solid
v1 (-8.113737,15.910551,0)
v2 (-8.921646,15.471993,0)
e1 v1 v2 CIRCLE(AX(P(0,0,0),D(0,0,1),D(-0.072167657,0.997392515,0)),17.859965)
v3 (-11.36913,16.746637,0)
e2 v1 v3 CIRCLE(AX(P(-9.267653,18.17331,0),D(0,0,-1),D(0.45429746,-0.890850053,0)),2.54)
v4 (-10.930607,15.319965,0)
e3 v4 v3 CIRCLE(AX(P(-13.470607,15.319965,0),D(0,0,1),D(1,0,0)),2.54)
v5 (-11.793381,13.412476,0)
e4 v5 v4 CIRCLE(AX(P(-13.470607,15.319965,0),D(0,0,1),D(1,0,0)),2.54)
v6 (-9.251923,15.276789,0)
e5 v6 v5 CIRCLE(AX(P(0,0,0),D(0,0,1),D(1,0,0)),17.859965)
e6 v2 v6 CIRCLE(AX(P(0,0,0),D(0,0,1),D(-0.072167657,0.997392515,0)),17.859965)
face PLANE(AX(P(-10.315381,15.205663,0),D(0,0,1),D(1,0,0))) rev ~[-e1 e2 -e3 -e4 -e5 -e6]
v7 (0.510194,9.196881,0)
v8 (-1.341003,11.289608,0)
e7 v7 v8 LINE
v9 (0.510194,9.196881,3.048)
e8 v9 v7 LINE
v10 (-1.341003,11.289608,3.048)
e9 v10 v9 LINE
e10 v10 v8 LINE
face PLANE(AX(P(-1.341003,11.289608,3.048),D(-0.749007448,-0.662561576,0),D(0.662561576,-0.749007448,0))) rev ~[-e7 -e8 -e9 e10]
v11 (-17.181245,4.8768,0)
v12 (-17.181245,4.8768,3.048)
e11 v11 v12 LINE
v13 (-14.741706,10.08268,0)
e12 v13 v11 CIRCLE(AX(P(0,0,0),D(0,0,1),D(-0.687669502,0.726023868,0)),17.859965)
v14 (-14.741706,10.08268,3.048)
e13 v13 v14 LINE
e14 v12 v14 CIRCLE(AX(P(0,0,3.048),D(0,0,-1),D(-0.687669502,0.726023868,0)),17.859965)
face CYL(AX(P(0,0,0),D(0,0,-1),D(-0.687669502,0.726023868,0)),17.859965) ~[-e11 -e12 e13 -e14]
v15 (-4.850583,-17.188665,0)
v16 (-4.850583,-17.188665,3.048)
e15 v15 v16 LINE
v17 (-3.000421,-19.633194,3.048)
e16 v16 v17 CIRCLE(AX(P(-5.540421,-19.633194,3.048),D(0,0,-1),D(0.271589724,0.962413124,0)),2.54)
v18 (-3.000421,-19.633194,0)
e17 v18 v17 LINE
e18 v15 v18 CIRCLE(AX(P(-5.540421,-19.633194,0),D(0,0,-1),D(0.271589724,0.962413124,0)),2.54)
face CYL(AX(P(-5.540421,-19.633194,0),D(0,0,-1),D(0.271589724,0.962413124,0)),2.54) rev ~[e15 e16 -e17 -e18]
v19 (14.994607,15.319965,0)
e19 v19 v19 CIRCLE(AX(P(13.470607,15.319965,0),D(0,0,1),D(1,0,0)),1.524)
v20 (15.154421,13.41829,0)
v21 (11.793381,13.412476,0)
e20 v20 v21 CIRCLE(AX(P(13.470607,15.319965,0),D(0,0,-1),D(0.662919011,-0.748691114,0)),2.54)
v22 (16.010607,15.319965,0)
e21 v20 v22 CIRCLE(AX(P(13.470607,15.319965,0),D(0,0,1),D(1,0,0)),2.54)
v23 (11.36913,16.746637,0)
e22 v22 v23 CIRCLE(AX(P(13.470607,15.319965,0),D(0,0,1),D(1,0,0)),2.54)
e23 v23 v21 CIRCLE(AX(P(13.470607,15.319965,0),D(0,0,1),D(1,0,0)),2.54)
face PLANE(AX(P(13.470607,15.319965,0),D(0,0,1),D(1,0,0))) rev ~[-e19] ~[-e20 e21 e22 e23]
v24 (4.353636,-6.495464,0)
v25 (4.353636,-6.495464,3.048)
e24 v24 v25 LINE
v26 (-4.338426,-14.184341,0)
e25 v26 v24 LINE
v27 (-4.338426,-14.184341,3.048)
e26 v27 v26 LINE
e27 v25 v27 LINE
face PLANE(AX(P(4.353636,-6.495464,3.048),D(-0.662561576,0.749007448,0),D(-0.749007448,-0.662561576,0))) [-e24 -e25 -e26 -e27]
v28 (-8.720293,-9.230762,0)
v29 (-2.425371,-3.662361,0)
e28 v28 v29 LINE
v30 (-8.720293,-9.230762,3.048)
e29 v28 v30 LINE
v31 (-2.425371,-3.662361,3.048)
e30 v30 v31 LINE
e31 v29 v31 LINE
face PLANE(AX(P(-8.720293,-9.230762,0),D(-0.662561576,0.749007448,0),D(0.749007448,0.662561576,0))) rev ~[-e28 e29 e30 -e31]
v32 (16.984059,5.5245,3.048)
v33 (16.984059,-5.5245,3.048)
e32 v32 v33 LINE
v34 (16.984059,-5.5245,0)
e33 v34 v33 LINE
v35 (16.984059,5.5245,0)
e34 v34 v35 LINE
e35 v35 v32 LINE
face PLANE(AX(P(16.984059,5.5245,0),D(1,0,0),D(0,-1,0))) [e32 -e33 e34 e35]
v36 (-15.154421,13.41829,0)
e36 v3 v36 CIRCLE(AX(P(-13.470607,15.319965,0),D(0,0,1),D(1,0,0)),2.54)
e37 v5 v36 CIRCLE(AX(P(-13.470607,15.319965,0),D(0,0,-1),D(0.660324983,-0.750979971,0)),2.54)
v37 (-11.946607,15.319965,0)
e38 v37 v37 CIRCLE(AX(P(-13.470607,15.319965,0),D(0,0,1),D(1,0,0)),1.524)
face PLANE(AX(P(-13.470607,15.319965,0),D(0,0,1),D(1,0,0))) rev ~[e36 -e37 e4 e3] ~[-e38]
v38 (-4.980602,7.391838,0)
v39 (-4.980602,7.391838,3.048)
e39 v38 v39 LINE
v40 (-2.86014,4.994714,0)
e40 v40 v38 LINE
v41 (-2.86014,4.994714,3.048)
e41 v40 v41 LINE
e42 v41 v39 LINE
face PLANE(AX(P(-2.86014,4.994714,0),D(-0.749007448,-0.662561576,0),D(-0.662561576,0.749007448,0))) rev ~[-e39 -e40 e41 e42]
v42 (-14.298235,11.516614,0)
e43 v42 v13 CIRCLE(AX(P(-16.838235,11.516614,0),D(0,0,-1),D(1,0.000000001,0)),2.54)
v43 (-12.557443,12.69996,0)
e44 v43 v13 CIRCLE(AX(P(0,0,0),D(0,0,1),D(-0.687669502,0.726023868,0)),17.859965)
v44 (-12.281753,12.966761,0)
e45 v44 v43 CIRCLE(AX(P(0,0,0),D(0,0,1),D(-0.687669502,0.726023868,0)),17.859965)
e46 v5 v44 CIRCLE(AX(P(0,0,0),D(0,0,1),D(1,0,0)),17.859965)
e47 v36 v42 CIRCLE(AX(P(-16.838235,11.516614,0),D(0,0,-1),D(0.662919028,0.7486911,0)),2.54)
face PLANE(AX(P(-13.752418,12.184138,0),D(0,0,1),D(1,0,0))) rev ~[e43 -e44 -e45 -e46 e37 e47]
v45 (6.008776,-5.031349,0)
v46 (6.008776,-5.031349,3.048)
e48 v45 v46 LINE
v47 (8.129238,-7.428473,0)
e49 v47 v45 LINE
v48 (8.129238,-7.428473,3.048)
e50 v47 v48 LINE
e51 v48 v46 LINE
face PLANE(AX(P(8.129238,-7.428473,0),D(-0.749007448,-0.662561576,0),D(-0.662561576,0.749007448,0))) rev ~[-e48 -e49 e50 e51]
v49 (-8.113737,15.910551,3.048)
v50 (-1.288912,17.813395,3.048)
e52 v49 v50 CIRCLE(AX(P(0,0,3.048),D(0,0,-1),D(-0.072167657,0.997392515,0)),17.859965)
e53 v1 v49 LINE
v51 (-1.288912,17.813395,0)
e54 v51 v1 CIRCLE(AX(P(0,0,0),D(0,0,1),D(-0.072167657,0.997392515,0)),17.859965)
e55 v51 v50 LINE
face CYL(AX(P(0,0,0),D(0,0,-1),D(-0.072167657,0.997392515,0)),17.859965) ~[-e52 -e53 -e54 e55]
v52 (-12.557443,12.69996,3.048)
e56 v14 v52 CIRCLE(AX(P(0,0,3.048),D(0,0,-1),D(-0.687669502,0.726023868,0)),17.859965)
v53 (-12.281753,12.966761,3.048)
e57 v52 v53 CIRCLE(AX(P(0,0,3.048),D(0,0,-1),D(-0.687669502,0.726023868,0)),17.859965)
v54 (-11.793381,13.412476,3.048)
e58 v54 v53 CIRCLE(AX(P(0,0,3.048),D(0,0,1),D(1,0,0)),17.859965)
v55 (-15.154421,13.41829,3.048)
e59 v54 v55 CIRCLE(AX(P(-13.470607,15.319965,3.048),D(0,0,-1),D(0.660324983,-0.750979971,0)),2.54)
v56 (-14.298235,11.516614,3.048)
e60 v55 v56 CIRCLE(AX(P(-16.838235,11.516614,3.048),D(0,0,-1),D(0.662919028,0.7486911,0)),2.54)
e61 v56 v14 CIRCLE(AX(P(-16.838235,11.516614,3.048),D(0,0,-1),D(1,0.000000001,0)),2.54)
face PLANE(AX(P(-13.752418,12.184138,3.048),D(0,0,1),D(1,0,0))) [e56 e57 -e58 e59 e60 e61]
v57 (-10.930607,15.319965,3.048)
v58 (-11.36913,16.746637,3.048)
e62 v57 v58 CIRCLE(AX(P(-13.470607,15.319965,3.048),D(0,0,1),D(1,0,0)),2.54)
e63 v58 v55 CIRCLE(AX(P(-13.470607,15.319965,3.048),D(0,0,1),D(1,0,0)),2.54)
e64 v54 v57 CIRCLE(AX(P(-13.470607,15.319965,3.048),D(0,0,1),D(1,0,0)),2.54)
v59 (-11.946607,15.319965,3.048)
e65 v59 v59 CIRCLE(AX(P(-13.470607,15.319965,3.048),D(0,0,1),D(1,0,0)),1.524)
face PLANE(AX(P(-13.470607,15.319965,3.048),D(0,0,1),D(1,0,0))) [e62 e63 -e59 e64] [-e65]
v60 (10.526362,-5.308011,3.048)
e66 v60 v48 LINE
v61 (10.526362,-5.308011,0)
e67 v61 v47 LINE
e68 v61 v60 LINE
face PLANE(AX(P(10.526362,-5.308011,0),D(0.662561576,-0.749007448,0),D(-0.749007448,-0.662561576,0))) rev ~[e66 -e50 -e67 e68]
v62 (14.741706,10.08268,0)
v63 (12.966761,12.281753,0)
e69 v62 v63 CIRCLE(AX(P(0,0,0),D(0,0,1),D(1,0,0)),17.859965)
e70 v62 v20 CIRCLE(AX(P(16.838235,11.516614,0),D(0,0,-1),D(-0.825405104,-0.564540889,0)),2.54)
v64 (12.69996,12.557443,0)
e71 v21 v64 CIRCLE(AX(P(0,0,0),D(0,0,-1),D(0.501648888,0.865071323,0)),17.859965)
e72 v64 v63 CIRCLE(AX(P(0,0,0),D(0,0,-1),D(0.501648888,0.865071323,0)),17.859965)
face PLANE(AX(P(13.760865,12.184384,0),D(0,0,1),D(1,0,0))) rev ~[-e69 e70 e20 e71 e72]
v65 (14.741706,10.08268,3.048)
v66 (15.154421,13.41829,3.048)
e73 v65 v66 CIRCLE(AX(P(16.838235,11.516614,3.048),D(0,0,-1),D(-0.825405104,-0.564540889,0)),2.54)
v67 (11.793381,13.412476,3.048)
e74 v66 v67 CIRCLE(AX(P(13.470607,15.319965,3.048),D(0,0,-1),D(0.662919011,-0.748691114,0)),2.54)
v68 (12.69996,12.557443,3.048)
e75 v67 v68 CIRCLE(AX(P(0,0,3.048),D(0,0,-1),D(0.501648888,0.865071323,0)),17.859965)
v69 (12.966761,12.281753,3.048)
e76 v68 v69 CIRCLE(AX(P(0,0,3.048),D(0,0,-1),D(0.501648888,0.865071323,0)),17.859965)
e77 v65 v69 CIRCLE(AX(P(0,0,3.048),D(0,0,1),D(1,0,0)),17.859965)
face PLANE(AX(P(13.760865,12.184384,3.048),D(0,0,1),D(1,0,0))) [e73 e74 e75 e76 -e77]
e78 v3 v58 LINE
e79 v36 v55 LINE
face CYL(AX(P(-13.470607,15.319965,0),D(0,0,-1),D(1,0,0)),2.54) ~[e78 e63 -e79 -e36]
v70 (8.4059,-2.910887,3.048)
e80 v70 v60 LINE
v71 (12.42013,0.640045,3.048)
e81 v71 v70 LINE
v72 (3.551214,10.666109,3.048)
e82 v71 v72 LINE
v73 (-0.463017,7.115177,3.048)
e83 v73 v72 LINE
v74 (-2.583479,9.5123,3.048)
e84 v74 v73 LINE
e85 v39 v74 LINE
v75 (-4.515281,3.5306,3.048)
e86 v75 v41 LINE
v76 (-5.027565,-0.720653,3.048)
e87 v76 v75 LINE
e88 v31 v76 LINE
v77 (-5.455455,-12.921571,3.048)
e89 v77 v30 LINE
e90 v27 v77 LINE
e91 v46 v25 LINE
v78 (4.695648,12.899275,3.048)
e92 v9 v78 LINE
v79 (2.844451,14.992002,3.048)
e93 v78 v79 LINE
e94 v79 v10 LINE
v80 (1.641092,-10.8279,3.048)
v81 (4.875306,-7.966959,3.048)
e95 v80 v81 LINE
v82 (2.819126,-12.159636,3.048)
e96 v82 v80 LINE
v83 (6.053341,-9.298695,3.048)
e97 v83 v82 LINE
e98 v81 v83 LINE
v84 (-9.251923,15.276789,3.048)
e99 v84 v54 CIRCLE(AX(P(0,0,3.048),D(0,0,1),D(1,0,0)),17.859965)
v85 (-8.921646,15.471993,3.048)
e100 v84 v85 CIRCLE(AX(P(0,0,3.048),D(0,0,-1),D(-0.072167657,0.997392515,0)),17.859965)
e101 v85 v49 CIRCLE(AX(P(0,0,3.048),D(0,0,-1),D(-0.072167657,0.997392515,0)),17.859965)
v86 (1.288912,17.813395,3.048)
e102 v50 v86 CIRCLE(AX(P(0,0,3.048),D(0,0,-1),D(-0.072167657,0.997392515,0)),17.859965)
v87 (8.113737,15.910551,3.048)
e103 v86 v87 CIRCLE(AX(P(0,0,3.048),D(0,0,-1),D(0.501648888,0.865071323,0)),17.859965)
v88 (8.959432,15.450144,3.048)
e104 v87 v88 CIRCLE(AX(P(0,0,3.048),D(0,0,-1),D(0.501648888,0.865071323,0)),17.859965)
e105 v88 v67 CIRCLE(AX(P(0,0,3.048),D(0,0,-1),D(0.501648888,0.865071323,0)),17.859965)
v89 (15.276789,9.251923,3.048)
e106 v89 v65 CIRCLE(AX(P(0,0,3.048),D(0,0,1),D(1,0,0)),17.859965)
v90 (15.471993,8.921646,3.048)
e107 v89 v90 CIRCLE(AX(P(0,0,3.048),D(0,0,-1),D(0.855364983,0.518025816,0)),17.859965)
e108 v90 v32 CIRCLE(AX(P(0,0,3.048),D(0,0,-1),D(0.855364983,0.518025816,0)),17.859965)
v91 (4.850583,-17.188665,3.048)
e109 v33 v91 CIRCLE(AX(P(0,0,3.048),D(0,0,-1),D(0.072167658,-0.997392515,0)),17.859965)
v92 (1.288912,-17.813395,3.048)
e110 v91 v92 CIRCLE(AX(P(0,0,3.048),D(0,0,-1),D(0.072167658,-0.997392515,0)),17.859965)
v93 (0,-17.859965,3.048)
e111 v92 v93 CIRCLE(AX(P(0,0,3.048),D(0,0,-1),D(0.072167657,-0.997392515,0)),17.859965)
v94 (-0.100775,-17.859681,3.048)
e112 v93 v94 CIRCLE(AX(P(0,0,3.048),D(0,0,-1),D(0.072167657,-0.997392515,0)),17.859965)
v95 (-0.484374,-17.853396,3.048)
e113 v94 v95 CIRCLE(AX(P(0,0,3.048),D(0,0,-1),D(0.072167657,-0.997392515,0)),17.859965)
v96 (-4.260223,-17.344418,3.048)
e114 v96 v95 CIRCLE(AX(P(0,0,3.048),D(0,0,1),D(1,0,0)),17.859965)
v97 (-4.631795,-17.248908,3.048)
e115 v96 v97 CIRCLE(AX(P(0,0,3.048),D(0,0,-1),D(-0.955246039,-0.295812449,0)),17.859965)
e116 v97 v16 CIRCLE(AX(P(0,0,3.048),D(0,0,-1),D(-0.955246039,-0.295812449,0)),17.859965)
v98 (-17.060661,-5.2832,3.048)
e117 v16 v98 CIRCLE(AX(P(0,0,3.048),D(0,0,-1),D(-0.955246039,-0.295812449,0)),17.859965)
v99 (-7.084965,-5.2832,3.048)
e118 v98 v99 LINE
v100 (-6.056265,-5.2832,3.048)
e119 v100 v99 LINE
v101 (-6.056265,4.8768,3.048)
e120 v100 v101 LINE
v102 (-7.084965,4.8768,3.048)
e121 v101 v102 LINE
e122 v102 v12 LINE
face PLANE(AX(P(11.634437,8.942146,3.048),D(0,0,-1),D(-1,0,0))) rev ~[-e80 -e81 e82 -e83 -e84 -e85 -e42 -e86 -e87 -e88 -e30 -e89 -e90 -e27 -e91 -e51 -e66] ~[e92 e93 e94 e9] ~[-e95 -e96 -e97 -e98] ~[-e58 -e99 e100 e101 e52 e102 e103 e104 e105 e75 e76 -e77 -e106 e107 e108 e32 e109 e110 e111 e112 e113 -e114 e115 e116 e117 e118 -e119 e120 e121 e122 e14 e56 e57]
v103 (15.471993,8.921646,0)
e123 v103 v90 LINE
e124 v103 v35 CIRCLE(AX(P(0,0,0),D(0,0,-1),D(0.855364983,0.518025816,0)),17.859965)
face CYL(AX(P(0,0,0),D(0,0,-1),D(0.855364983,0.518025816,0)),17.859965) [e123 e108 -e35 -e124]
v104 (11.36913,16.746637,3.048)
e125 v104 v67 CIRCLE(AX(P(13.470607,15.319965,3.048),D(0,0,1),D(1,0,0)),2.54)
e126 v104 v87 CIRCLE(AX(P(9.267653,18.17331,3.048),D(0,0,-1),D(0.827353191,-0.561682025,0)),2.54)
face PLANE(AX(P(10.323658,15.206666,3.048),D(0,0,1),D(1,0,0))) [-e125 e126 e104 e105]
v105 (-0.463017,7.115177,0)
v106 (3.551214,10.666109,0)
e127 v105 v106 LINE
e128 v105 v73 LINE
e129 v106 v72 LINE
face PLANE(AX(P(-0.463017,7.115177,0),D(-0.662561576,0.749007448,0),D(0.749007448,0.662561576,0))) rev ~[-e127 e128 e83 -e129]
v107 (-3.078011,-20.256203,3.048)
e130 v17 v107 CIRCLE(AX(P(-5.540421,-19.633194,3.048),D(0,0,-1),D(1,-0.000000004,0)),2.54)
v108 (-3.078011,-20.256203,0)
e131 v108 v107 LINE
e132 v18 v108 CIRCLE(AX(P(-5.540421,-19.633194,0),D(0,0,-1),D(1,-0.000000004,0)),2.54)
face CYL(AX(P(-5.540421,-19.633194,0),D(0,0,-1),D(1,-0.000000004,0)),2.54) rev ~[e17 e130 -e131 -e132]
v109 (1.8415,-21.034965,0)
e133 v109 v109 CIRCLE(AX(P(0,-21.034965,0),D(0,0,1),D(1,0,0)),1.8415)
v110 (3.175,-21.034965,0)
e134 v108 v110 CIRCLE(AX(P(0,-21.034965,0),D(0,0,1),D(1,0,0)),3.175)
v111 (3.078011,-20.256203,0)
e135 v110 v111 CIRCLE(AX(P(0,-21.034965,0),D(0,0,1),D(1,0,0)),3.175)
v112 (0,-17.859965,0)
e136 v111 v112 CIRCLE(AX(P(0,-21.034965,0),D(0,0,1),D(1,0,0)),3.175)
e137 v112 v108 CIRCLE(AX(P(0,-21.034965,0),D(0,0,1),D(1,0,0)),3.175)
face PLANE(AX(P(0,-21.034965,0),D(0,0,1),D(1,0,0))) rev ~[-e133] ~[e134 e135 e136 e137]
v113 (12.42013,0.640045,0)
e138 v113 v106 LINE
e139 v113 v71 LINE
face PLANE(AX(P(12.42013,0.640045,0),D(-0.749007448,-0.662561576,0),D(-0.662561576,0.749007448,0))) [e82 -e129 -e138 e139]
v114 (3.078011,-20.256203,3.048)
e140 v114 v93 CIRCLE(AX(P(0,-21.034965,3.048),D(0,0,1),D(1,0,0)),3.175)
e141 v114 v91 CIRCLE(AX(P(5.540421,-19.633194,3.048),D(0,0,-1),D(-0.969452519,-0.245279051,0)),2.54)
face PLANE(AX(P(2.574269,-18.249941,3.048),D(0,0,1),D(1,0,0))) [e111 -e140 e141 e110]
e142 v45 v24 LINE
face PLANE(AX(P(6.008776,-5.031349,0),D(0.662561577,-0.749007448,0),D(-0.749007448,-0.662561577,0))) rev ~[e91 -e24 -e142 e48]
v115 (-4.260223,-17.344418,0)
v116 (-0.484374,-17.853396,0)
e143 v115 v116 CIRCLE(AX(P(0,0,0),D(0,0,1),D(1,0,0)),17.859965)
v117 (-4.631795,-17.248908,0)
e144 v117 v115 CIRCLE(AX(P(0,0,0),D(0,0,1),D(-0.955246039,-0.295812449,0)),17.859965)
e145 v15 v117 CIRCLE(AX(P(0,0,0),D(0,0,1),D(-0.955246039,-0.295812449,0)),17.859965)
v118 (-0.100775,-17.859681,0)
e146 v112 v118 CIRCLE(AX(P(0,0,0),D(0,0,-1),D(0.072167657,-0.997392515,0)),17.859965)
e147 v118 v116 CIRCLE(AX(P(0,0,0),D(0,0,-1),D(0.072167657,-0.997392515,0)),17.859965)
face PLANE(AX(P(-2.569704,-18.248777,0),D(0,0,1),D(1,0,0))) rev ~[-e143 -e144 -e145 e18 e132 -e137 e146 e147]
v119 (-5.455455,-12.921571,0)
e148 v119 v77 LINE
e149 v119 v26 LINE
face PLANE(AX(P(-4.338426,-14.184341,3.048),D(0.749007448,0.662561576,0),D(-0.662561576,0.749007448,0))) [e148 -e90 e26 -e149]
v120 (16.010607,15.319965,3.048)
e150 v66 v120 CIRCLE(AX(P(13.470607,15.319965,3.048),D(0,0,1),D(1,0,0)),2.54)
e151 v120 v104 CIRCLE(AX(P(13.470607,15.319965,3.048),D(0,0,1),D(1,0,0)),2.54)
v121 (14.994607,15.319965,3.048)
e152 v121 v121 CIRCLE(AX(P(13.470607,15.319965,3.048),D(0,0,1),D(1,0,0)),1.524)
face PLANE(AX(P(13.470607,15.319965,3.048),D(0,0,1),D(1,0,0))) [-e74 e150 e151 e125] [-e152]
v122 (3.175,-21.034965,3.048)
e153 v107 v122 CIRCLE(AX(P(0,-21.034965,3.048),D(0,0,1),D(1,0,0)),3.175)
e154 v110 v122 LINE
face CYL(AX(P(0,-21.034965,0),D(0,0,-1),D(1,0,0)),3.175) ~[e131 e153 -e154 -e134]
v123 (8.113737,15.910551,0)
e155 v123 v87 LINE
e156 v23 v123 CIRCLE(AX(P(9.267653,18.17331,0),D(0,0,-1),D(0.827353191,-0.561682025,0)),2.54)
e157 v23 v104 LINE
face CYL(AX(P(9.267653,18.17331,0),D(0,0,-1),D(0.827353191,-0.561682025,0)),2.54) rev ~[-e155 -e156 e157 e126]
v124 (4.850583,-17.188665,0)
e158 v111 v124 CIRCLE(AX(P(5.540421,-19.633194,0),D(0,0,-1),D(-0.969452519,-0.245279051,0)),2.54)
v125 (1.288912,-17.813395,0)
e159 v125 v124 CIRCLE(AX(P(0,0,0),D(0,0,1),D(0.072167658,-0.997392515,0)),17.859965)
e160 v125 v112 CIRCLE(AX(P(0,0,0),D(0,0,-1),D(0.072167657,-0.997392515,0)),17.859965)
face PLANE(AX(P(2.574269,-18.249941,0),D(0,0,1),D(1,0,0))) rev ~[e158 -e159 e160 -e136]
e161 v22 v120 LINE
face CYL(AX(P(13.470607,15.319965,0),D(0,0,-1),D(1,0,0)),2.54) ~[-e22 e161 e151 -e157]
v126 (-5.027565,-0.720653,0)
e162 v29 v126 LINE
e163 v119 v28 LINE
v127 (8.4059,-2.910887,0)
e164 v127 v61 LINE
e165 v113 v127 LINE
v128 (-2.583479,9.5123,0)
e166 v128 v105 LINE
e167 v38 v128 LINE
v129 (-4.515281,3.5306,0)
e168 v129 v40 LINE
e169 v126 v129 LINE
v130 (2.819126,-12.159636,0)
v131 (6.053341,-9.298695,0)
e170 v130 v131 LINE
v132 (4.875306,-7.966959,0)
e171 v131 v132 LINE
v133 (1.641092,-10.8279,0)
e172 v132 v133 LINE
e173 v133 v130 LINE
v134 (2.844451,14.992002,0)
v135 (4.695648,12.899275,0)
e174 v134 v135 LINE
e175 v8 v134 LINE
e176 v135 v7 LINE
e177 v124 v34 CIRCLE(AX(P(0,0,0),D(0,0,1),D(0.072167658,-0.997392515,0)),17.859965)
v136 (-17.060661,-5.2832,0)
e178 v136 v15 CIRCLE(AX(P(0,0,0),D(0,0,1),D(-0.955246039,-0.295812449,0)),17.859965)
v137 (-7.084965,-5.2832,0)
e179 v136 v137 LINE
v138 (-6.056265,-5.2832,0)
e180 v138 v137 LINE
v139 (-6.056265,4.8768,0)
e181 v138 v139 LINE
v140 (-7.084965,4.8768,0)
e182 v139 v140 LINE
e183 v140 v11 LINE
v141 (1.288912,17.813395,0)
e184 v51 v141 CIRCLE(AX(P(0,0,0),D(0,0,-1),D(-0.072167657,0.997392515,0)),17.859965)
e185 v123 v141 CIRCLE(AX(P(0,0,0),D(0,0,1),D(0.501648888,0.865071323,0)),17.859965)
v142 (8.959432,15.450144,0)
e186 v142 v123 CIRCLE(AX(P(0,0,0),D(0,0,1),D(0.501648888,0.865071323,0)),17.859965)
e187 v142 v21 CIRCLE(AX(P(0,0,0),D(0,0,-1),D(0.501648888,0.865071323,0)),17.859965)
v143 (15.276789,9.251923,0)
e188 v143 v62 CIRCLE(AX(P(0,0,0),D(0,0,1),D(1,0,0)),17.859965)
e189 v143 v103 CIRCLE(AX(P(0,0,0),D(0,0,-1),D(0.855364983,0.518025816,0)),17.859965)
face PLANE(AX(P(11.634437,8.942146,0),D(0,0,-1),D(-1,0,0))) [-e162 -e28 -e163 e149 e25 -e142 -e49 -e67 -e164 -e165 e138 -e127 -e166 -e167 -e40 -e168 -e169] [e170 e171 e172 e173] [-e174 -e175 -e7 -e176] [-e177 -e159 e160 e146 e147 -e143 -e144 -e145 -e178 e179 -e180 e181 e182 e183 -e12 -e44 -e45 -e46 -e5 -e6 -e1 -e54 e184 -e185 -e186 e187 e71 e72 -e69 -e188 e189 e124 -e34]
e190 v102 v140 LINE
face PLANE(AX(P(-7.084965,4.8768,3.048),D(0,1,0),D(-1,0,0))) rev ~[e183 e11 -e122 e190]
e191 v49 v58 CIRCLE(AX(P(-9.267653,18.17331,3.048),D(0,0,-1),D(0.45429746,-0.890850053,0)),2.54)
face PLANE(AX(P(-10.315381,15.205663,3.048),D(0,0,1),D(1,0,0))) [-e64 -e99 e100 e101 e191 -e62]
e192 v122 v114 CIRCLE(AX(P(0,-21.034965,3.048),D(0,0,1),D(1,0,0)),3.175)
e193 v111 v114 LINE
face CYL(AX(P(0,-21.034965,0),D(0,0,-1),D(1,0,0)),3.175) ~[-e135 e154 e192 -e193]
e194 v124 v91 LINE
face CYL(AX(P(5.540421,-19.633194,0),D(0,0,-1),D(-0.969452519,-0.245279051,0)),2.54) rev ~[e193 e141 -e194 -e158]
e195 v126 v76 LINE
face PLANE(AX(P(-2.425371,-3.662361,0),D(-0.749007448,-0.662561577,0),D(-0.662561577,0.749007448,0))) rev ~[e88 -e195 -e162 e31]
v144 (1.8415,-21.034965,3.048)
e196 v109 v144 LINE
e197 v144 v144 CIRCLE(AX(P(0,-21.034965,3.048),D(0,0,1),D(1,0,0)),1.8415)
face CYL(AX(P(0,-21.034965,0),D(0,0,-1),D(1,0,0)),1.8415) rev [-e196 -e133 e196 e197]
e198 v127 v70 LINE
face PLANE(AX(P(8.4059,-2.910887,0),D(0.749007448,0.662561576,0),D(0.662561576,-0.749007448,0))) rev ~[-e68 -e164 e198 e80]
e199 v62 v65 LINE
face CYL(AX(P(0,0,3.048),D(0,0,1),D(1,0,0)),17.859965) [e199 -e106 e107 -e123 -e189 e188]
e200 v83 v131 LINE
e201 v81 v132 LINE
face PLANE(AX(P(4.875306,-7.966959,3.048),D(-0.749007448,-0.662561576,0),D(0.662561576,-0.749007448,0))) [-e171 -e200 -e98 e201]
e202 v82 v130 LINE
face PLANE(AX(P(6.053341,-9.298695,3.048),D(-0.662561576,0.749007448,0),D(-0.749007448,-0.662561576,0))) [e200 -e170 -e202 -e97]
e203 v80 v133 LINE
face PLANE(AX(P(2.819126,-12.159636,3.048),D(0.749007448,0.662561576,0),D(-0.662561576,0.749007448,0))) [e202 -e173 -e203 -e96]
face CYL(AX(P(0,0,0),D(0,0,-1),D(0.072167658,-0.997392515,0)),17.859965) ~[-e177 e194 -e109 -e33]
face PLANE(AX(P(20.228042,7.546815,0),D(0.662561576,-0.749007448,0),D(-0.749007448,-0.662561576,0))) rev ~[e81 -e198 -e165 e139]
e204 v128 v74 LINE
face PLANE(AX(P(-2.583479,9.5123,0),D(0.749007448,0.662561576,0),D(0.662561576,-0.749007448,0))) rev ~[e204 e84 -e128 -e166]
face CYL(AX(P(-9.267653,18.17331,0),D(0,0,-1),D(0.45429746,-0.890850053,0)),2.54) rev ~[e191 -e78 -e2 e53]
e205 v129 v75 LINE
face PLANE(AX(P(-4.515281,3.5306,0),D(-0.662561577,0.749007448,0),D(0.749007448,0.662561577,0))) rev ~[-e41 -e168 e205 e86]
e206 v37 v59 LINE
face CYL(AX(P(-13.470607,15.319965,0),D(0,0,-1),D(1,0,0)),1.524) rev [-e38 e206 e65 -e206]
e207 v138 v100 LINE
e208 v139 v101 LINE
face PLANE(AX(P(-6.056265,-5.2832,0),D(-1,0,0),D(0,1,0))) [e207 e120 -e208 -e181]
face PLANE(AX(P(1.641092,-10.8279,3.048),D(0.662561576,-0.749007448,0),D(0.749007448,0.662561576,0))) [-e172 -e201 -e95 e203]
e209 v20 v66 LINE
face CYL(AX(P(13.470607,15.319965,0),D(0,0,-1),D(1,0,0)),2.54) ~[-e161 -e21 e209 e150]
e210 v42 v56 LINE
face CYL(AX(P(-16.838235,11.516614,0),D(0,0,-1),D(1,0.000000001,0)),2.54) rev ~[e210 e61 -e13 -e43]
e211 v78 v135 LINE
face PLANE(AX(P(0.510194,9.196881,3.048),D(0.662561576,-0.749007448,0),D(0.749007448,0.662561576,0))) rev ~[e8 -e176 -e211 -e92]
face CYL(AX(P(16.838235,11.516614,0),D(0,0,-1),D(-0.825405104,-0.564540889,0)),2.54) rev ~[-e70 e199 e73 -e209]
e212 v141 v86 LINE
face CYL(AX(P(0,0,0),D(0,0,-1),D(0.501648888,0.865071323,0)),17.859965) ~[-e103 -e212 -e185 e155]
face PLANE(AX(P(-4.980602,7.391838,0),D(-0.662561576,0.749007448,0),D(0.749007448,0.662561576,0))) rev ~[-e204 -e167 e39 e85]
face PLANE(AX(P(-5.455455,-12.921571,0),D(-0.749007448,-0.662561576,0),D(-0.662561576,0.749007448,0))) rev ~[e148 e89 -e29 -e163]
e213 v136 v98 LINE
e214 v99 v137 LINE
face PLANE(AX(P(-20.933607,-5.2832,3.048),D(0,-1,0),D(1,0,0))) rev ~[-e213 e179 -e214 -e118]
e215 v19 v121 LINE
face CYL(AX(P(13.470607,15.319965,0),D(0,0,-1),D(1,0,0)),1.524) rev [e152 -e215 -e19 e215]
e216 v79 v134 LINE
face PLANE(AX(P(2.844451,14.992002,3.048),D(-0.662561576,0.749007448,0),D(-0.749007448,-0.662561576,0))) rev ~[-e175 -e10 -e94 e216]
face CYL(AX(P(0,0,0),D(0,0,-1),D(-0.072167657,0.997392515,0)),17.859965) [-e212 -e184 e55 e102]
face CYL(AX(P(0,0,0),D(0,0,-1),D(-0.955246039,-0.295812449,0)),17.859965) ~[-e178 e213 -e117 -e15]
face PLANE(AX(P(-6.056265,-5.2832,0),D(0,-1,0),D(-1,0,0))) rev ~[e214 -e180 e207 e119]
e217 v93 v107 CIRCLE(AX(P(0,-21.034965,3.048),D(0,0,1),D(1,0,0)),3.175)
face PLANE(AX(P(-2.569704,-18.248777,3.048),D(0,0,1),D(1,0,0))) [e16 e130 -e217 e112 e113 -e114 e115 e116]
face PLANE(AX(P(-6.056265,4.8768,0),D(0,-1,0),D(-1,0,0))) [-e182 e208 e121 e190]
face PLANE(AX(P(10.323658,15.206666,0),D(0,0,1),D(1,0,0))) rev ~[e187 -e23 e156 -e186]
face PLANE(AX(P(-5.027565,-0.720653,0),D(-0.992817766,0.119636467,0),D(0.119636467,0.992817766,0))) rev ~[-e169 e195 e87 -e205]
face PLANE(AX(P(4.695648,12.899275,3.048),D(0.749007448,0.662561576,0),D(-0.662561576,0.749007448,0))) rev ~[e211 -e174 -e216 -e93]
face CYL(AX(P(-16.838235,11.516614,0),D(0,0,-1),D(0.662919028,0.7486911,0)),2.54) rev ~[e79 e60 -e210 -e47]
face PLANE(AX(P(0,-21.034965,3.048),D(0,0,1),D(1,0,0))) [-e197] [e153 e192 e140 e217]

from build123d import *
from build123d.topology import SkipClean

# Parameters (mm, degrees)
SKETCH1_R           = 1.4224
BOSS_EXTRUDE1_DEPTH = 3.048
CUT_EXTRUDE3_DEPTH  = 31.684629768
CUT_EXTRUDE4_DEPTH  = 31.684629768
SKETCH4_R           = 1.1049
BOSS_EXTRUDE2_DEPTH = 3.048
SKETCH4_3_R         = 1.1049
CUT_EXTRUDE5_DEPTH  = 31.619000053
CUT_EXTRUDE10_DEPTH = 29.661642774
BOSS_EXTRUDE3_START = -3.048
BOSS_EXTRUDE3_DEPTH = 3.048
SKETCH7_W           = 1.0287
SKETCH7_H           = 10.16
CUT_EXTRUDE11_DEPTH = 30.194889838
SKETCH8_R           = 23.497624495
SKETCH8_R_2         = 17.859965052
CUT_EXTRUDE12_DEPTH = 30.194889838
BOSS_EXTRUDE4_START = -3.048
SKETCH9_R           = 2.54
SKETCH9_R_2         = 1.524
SKETCH9_R_3         = 3.175
SKETCH9_R_4         = 1.8415
BOSS_EXTRUDE4_DEPTH = 3.048
CUT_EXTRUDE14_DEPTH = 30.843054222


with BuildPart() as part:
    # Sketch1 → Boss-Extrude1 (new body)
    with BuildSketch(Plane.XY):
        with BuildLine():
            Line((-5.027565338, -0.720652536), (-4.515281158, 3.5306))
            Line((-4.515281158, 3.5306), (-2.860140414, 4.994714494))
            Line((-2.860140414, 4.994714494), (-4.980602482, 7.391837931))
            Line((-4.980602482, 7.391837931), (-2.583479045, 9.5123))
            Line((-2.583479045, 9.5123), (-0.463016976, 7.115176563))
            Line((-0.463016976, 7.115176563), (11.876076152, 18.030166811))
            ThreePointArc((11.876076152, 18.030166811), (-16.886200405, -13.453041882), (20.228041911, 7.546815251))
            Line((20.228041911, 7.546815251), (8.405899773, -2.910887338))
            Line((8.405899773, -2.910887338), (10.526361842, -5.308010776))
            Line((10.526361842, -5.308010776), (8.129238404, -7.428472845))
            Line((8.129238404, -7.428472845), (6.008776335, -5.031349407))
            Line((6.008776335, -5.031349407), (4.353635591, -6.495463901))
            Line((4.353635591, -6.495463901), (1.815981702, -6.489359631))
            Line((1.815981702, -6.489359631), (-5.455454601, -12.9215711))
            Line((-5.455454601, -12.9215711), (-8.720293025, -9.230761998))
            Line((-8.720293025, -9.230761998), (-2.425370717, -3.662361234))
            Line((-2.425370717, -3.662361234), (-5.027565338, -0.720652536))
        make_face()
        with Locations(Location((0, 18.415, 0), (0, 0, 180))):
            Circle(SKETCH1_R, mode=Mode.SUBTRACT)
        with Locations(Location((0, -18.415, 0), (0, 0, 180))):
            Circle(SKETCH1_R, mode=Mode.SUBTRACT)
    extrude(amount=BOSS_EXTRUDE1_DEPTH)

    # Sketch2 → Cut-Extrude3 (cut, through all)
    with BuildSketch(Plane.XY.offset(3.048)):
        with BuildLine():
            Line((-7.084965338, 4.8768), (-21.031997569, 4.8768))
            ThreePointArc((-21.031997569, 4.8768), (-21.588987692, -0.209070373), (-20.933606898, -5.2832))
            Line((-20.933606898, -5.2832), (-7.084965338, -5.2832))
            Line((-7.084965338, -5.2832), (-7.084965338, 4.8768))
        make_face()
    extrude(amount=-CUT_EXTRUDE3_DEPTH, mode=Mode.SUBTRACT)

    # Sketch3 → Cut-Extrude4 (cut, through all)
    with BuildSketch(Plane(origin=(0, 0, 0), x_dir=(-1, 0, 0), z_dir=(0, 0, -1))):
        with BuildLine():
            Line((-20.871224203, -5.5245), (-16.984058744, -5.5245))
            Line((-16.984058744, -5.5245), (-16.984058744, 4.677232838))
            Line((-16.984058744, 4.677232838), (-20.228041911, 7.546815251))
            ThreePointArc((-20.228041911, 7.546815251), (-21.563910577, 1.061065789), (-20.871224203, -5.5245))
        make_face()
    extrude(amount=-CUT_EXTRUDE4_DEPTH, mode=Mode.SUBTRACT)

    # Sketch4 → Boss-Extrude2 (add)
    # profile 1 of 5: a face of its own
    with BuildSketch(Plane(origin=(0, 0, 0), x_dir=(-1, 0, 0), z_dir=(0, 0, -1))):
        with BuildLine():
            Line((-16.984058744, 5.5245), (-16.984058744, 4.677232838))
            Line((-16.984058744, 4.677232838), (-12.420130291, 0.640045174))
            Line((-12.420130291, 0.640045174), (-3.551213542, 10.666109075))
            Line((-3.551213542, 10.666109075), (-8.959431605, 15.450143591))
            ThreePointArc((-8.959431605, 15.450143591), (-11.076965007, 14.009967805), (-12.966760902, 12.28175327))
            Line((-12.966760902, 12.28175327), (-15.004080987, 13.83506338))
            ThreePointArc((-15.004080987, 13.83506338), (-17.674010029, 13.475162132), (-17.314108781, 10.80523309))
            Line((-17.314108781, 10.80523309), (-15.276788696, 9.25192298))
            ThreePointArc((-15.276788696, 9.25192298), (-16.237733521, 7.437362555), (-16.984058744, 5.5245))
        make_face()
        with Locations((-16.159094884, 12.320148235)):
            Circle(SKETCH4_R, mode=Mode.SUBTRACT)
    # profile 2 of 5: a face of its own
    with BuildSketch(Plane(origin=(0, 0, 0), x_dir=(-1, 0, 0), z_dir=(0, 0, -1))):
        with BuildLine():
            ThreePointArc((-1.288911844, -17.813395463), (-0.402766027, -17.855423019), (0.484373541, -17.853395586))
            Line((0.484373541, -17.853395586), (0.725034865, -19.638742704))
            ThreePointArc((0.725034865, -19.638742704), (0.955229003, -17.361074333), (-1.288911844, -17.813395463))
        make_face()
    # profile 3 of 5: a face of its own
    with BuildSketch(Plane(origin=(0, 0, 0), x_dir=(-1, 0, 0), z_dir=(0, 0, -1))):
        with BuildLine():
            ThreePointArc((4.327227494, -21.151907768), (2.884204284, -21.396482553), (1.427926458, -21.542727915))
            ThreePointArc((1.427926458, -21.542727915), (2.969033821, -22.025790864), (4.327227494, -21.151907768))
        make_face()
    # profile 4 of 5: a face of its own
    with BuildSketch(Plane(origin=(0, 0, 0), x_dir=(-1, 0, 0), z_dir=(0, 0, -1))):
        with BuildLine():
            ThreePointArc((1.288911844, 17.813395463), (0, 17.859965052), (-1.288911844, 17.813395463))
            ThreePointArc((-1.288911844, 17.813395463), (0, 16.9926), (1.288911844, 17.813395463))
        make_face()
    # profile 5 of 5: a face of its own
    with BuildSketch(Plane(origin=(0, 0, 0), x_dir=(-1, 0, 0), z_dir=(0, 0, -1))):
        with BuildLine():
            ThreePointArc((14.223312513, 16.242705475), (13.475162132, 17.674010029), (11.896845513, 18.016469323))
            ThreePointArc((11.896845513, 18.016469323), (13.0901575, 17.169038314), (14.223312513, 16.242705475))
        make_face()
    extrude(amount=-BOSS_EXTRUDE2_DEPTH)

    # Sketch4<3> → Cut-Extrude5 (cut, through all)
    with SkipClean():  # the faces are left unmerged after this step: merging them gives an invalid solid
        with BuildSketch(Plane(origin=(0, 0, 0), x_dir=(-1, 0, 0), z_dir=(0, 0, -1))):
            with BuildLine():
                ThreePointArc((-20.871224203, -5.5245), (-12.595886757, -17.534872021), (1.427926458, -21.542727915))
                ThreePointArc((1.427926458, -21.542727915), (1.026270462, -21.020335978), (0.826620277, -20.392354546))
                Line((0.826620277, -20.392354546), (0.725034865, -19.638742704))
                ThreePointArc((0.725034865, -19.638742704), (-0.955229003, -19.468925667), (-1.288911844, -17.813395463))
                ThreePointArc((-1.288911844, -17.813395463), (-11.010431484, -14.062316673), (-16.984058744, -5.5245))
                Line((-16.984058744, -5.5245), (-20.871224203, -5.5245))
            make_face()
            with BuildLine():
                ThreePointArc((4.602470139, -19.883377319), (4.576225926, -20.541808877), (4.327227494, -21.151907768))
                ThreePointArc((4.327227494, -21.151907768), (14.915810742, -15.609186074), (20.933606898, -5.2832))
                Line((20.933606898, -5.2832), (17.060660873, -5.2832))
                ThreePointArc((17.060660873, -5.2832), (12.247990597, -12.998656777), (4.260223404, -17.344418359))
                Line((4.260223404, -17.344418359), (4.602470139, -19.883377319))
            make_face()
            with BuildLine():
                Line((-11.876076152, 18.030166811), (-8.959431605, 15.450143591))
                ThreePointArc((-8.959431605, 15.450143591), (-5.258647708, 17.068244665), (-1.288911844, 17.813395463))
                ThreePointArc((-1.288911844, 17.813395463), (0, 19.8374), (1.288911844, 17.813395463))
                ThreePointArc((1.288911844, 17.813395463), (5.420875683, 17.017416329), (9.25192298, 15.276788696))
                Line((9.25192298, 15.276788696), (10.80523309, 17.314108781))
                ThreePointArc((10.80523309, 17.314108781), (11.28937197, 17.76113274), (11.896845513, 18.016469323))
                ThreePointArc((11.896845513, 18.016469323), (0.01243973, 21.589996416), (-11.876076152, 18.030166811))
            make_face()
            with BuildLine():
                Line((13.83506338, 15.004080987), (12.28175327, 12.966760902))
                ThreePointArc((12.28175327, 12.966760902), (15.276744775, 9.251995502), (17.181244816, 4.8768))
                Line((17.181244816, 4.8768), (21.031997569, 4.8768))
                ThreePointArc((21.031997569, 4.8768), (18.521073783, 11.09495047), (14.223312513, 16.242705475))
                ThreePointArc((14.223312513, 16.242705475), (14.13793931, 15.589304916), (13.83506338, 15.004080987))
            make_face()
            with Locations((12.320148235, 16.159094884)):
                Circle(SKETCH4_3_R)
            with Locations((2.714545208, -20.137865932)):
                Circle(SKETCH4_3_R)
        extrude(amount=-CUT_EXTRUDE5_DEPTH, mode=Mode.SUBTRACT)

    # Sketch5 → Cut-Extrude10 (cut, through all)
    with SkipClean():  # the faces are left unmerged after this step: merging them gives an invalid solid
        with BuildSketch(Plane.XY.offset(3.048)):
            Polygon((4.353635591, -6.495463901), (-4.338426069, -14.184340812), (-5.455454601, -12.9215711), (1.815981702, -6.489359631), align=None)
        extrude(amount=-CUT_EXTRUDE10_DEPTH, mode=Mode.SUBTRACT)

    # Sketch6 → Boss-Extrude3 (add)
    with SkipClean():  # the faces are left unmerged after this step: merging them gives an invalid solid
        with BuildSketch(Plane.XY.offset(3.048).offset(BOSS_EXTRUDE3_START)):
            with BuildLine():
                ThreePointArc((-9.25192298, 15.276788696), (-9.087308864, 15.375277861), (-8.92164642, 15.471993305))
                Line((-8.92164642, 15.471993305), (-8.948939951, 15.507791475))
                Line((-8.948939951, 15.507791475), (-10.502250061, 17.54511156))
                ThreePointArc((-10.502250061, 17.54511156), (-13.706164911, 17.976993058), (-14.138046409, 14.773078207))
                Line((-14.138046409, 14.773078207), (-12.584736299, 12.735758122))
                Line((-12.584736299, 12.735758122), (-12.557442768, 12.699959952))
                ThreePointArc((-12.557442768, 12.699959952), (-12.420314434, 12.83410071), (-12.28175327, 12.966760902))
                Line((-12.28175327, 12.966760902), (-13.83506338, 15.004080987))
                ThreePointArc((-13.83506338, 15.004080987), (-13.475162132, 17.674010029), (-10.80523309, 17.314108781))
                Line((-10.80523309, 17.314108781), (-9.25192298, 15.276788696))
            make_face()
            with BuildLine():
                Line((-0.106788555, -17.904293309), (-0.100774867, -17.859680739))
                ThreePointArc((-0.100774867, -17.859680739), (-0.292591081, -17.857568203), (-0.484373541, -17.853395586))
                Line((-0.484373541, -17.853395586), (-0.826620277, -20.392354546))
                ThreePointArc((-0.826620277, -20.392354546), (-2.969033821, -22.025790864), (-4.602470139, -19.883377319))
                Line((-4.602470139, -19.883377319), (-4.260223404, -17.344418359))
                ThreePointArc((-4.260223404, -17.344418359), (-4.446265517, -17.297660958), (-4.631794702, -17.248908067))
                Line((-4.631794702, -17.248908067), (-4.63780839, -17.293520637))
                Line((-4.63780839, -17.293520637), (-4.980055125, -19.832479597))
                ThreePointArc((-4.980055125, -19.832479597), (-3.019931544, -22.40337585), (-0.449035291, -20.443252268))
                Line((-0.449035291, -20.443252268), (-0.106788555, -17.904293309))
            make_face()
            with BuildLine():
                ThreePointArc((15.004080987, 13.83506338), (17.674010029, 13.475162132), (17.314108781, 10.80523309))
                Line((17.314108781, 10.80523309), (15.276788696, 9.25192298))
                ThreePointArc((15.276788696, 9.25192298), (15.375277861, 9.087308864), (15.471993305, 8.92164642))
                Line((15.471993305, 8.92164642), (17.54511156, 10.502250061))
                ThreePointArc((17.54511156, 10.502250061), (17.976993058, 13.706164911), (14.773078207, 14.138046409))
                Line((14.773078207, 14.138046409), (12.699959952, 12.557442768))
                ThreePointArc((12.699959952, 12.557442768), (12.83410071, 12.420314434), (12.966760902, 12.28175327))
                Line((12.966760902, 12.28175327), (15.004080987, 13.83506338))
            make_face()
        extrude(amount=BOSS_EXTRUDE3_DEPTH)

    # Sketch7 → Cut-Extrude11 (cut, through all)
    with SkipClean():  # the faces are left unmerged after this step: merging them gives an invalid solid
        with BuildSketch(Plane(origin=(0, 0, 0), x_dir=(-1, 0, 0), z_dir=(0, 0, -1))):
            with Locations((6.570615338, -0.2032)):
                Rectangle(SKETCH7_W, SKETCH7_H)
        extrude(amount=-CUT_EXTRUDE11_DEPTH, mode=Mode.SUBTRACT)

    # Sketch8 → Cut-Extrude12 (cut, through all)
    with SkipClean():  # the faces are left unmerged after this step: merging them gives an invalid solid
        with BuildSketch(Plane.XY.offset(3.048)):
            Circle(SKETCH8_R)
            Circle(SKETCH8_R_2, mode=Mode.SUBTRACT)
        extrude(amount=-CUT_EXTRUDE12_DEPTH, mode=Mode.SUBTRACT)

    # Sketch9 → Boss-Extrude4 (add)
    # profile 1 of 9: a face of its own
    with SkipClean():  # the faces are left unmerged after this step: merging them gives an invalid solid
        with BuildSketch(Plane.XY.offset(3.048).offset(BOSS_EXTRUDE4_START)):
            with BuildLine():
                ThreePointArc((14.741706397, 10.082680407), (14.317457477, 11.828509859), (15.154420991, 13.418289622))
                ThreePointArc((15.154420991, 13.418289622), (13.475000191, 12.779968852), (11.793381211, 13.412475957))
                ThreePointArc((11.793381211, 13.412475957), (13.371596882, 11.839710659), (14.741706397, 10.082680407))
            make_face()
        # profile 2 of 9: a face of its own
        with BuildSketch(Plane.XY.offset(3.048).offset(BOSS_EXTRUDE4_START)):
            with Locations((13.470606702, 15.319965052)):
                Circle(SKETCH9_R)
            with Locations((13.470606702, 15.319965052)):
                Circle(SKETCH9_R_2, mode=Mode.SUBTRACT)
        # profile 3 of 9: a face of its own
        with BuildSketch(Plane.XY.offset(3.048).offset(BOSS_EXTRUDE4_START)):
            with BuildLine():
                ThreePointArc((11.793381211, 13.412475957), (10.950922895, 14.999350783), (11.369129659, 16.746637488))
                ThreePointArc((11.369129659, 16.746637488), (9.899497892, 15.713153035), (8.113737041, 15.910550679))
                ThreePointArc((8.113737041, 15.910550679), (10.031621684, 14.776498844), (11.793381211, 13.412475957))
            make_face()
        # profile 4 of 9: a face of its own
        with BuildSketch(Plane.XY.offset(3.048).offset(BOSS_EXTRUDE4_START)):
            with BuildLine():
                ThreePointArc((-14.741706395, 10.08268041), (-13.371596897, 11.839710643), (-11.793381246, 13.412475926))
                ThreePointArc((-11.793381246, 13.412475926), (-13.475000239, 12.779968852), (-15.154421029, 13.418289656))
                ThreePointArc((-15.154421029, 13.418289656), (-14.522151553, 12.559377803), (-14.29823536, 11.516614264))
                ThreePointArc((-14.29823536, 11.516614264), (-14.411634489, 10.766142269), (-14.741706395, 10.08268041))
            make_face()
        # profile 5 of 9: a face of its own
        with BuildSketch(Plane.XY.offset(3.048).offset(BOSS_EXTRUDE4_START)):
            with Locations((-13.470606702, 15.319965052)):
                Circle(SKETCH9_R)
            with Locations((-13.470606702, 15.319965052)):
                Circle(SKETCH9_R_2, mode=Mode.SUBTRACT)
        # profile 6 of 9: a face of its own
        with BuildSketch(Plane.XY.offset(3.048).offset(BOSS_EXTRUDE4_START)):
            with BuildLine():
                ThreePointArc((-11.793381246, 13.412475926), (-10.031621687, 14.776498841), (-8.113737006, 15.910550697))
                ThreePointArc((-8.113737006, 15.910550697), (-9.899497839, 15.713153021), (-11.36912962, 16.74663743))
                ThreePointArc((-11.36912962, 16.74663743), (-11.042711339, 16.066238532), (-10.930606702, 15.319965052))
                ThreePointArc((-10.930606702, 15.319965052), (-11.15633007, 14.27319685), (-11.793381246, 13.412475926))
            make_face()
        # profile 7 of 9: a face of its own
        with BuildSketch(Plane.XY.offset(3.048).offset(BOSS_EXTRUDE4_START)):
            with Locations((0, -21.034965052)):
                Circle(SKETCH9_R_3)
            with Locations((0, -21.034965052)):
                Circle(SKETCH9_R_4, mode=Mode.SUBTRACT)
        # profile 8 of 9: a face of its own
        with BuildSketch(Plane.XY.offset(3.048).offset(BOSS_EXTRUDE4_START)):
            with BuildLine():
                ThreePointArc((-3.07801145, -20.256202884), (-1.95039164, -18.52965121), (5e-09, -17.859965052))
                ThreePointArc((5e-09, -17.859965052), (-2.448407595, -17.691343983), (-4.850582953, -17.188664773))
                ThreePointArc((-4.850582953, -17.188664773), (-3.515107511, -18.100319075), (-3.000420852, -19.633194109))
                ThreePointArc((-3.000420852, -19.633194109), (-3.019893142, -19.947105018), (-3.07801145, -20.256202884))
            make_face()
        # profile 9 of 9: a face of its own
        with BuildSketch(Plane.XY.offset(3.048).offset(BOSS_EXTRUDE4_START)):
            with BuildLine():
                ThreePointArc((3.078011454, -20.2562029), (3.341190684, -18.362372853), (4.850582919, -17.188664783))
                ThreePointArc((4.850582919, -17.188664783), (2.448407582, -17.691343985), (5e-09, -17.859965052))
                ThreePointArc((5e-09, -17.859965052), (1.95039165, -18.529651218), (3.078011454, -20.2562029))
            make_face()
        extrude(amount=BOSS_EXTRUDE4_DEPTH)

    # Sketch11 → Cut-Extrude14 (cut, through all)
    with SkipClean():  # the faces are left unmerged after this step: merging them gives an invalid solid
        with BuildSketch(Plane.XY.offset(3.048)):
            Polygon((-1.341002823, 11.289608099), (0.510194221, 9.196881289), (4.695647842, 12.899275377), (2.844450797, 14.992002188), align=None)
            Polygon((6.053340658, -9.298694678), (2.819126496, -12.159635565), (1.641092014, -10.827900322), (4.875306175, -7.966959435), align=None)
        extrude(amount=-CUT_EXTRUDE14_DEPTH, mode=Mode.SUBTRACT)


solid = part.part
